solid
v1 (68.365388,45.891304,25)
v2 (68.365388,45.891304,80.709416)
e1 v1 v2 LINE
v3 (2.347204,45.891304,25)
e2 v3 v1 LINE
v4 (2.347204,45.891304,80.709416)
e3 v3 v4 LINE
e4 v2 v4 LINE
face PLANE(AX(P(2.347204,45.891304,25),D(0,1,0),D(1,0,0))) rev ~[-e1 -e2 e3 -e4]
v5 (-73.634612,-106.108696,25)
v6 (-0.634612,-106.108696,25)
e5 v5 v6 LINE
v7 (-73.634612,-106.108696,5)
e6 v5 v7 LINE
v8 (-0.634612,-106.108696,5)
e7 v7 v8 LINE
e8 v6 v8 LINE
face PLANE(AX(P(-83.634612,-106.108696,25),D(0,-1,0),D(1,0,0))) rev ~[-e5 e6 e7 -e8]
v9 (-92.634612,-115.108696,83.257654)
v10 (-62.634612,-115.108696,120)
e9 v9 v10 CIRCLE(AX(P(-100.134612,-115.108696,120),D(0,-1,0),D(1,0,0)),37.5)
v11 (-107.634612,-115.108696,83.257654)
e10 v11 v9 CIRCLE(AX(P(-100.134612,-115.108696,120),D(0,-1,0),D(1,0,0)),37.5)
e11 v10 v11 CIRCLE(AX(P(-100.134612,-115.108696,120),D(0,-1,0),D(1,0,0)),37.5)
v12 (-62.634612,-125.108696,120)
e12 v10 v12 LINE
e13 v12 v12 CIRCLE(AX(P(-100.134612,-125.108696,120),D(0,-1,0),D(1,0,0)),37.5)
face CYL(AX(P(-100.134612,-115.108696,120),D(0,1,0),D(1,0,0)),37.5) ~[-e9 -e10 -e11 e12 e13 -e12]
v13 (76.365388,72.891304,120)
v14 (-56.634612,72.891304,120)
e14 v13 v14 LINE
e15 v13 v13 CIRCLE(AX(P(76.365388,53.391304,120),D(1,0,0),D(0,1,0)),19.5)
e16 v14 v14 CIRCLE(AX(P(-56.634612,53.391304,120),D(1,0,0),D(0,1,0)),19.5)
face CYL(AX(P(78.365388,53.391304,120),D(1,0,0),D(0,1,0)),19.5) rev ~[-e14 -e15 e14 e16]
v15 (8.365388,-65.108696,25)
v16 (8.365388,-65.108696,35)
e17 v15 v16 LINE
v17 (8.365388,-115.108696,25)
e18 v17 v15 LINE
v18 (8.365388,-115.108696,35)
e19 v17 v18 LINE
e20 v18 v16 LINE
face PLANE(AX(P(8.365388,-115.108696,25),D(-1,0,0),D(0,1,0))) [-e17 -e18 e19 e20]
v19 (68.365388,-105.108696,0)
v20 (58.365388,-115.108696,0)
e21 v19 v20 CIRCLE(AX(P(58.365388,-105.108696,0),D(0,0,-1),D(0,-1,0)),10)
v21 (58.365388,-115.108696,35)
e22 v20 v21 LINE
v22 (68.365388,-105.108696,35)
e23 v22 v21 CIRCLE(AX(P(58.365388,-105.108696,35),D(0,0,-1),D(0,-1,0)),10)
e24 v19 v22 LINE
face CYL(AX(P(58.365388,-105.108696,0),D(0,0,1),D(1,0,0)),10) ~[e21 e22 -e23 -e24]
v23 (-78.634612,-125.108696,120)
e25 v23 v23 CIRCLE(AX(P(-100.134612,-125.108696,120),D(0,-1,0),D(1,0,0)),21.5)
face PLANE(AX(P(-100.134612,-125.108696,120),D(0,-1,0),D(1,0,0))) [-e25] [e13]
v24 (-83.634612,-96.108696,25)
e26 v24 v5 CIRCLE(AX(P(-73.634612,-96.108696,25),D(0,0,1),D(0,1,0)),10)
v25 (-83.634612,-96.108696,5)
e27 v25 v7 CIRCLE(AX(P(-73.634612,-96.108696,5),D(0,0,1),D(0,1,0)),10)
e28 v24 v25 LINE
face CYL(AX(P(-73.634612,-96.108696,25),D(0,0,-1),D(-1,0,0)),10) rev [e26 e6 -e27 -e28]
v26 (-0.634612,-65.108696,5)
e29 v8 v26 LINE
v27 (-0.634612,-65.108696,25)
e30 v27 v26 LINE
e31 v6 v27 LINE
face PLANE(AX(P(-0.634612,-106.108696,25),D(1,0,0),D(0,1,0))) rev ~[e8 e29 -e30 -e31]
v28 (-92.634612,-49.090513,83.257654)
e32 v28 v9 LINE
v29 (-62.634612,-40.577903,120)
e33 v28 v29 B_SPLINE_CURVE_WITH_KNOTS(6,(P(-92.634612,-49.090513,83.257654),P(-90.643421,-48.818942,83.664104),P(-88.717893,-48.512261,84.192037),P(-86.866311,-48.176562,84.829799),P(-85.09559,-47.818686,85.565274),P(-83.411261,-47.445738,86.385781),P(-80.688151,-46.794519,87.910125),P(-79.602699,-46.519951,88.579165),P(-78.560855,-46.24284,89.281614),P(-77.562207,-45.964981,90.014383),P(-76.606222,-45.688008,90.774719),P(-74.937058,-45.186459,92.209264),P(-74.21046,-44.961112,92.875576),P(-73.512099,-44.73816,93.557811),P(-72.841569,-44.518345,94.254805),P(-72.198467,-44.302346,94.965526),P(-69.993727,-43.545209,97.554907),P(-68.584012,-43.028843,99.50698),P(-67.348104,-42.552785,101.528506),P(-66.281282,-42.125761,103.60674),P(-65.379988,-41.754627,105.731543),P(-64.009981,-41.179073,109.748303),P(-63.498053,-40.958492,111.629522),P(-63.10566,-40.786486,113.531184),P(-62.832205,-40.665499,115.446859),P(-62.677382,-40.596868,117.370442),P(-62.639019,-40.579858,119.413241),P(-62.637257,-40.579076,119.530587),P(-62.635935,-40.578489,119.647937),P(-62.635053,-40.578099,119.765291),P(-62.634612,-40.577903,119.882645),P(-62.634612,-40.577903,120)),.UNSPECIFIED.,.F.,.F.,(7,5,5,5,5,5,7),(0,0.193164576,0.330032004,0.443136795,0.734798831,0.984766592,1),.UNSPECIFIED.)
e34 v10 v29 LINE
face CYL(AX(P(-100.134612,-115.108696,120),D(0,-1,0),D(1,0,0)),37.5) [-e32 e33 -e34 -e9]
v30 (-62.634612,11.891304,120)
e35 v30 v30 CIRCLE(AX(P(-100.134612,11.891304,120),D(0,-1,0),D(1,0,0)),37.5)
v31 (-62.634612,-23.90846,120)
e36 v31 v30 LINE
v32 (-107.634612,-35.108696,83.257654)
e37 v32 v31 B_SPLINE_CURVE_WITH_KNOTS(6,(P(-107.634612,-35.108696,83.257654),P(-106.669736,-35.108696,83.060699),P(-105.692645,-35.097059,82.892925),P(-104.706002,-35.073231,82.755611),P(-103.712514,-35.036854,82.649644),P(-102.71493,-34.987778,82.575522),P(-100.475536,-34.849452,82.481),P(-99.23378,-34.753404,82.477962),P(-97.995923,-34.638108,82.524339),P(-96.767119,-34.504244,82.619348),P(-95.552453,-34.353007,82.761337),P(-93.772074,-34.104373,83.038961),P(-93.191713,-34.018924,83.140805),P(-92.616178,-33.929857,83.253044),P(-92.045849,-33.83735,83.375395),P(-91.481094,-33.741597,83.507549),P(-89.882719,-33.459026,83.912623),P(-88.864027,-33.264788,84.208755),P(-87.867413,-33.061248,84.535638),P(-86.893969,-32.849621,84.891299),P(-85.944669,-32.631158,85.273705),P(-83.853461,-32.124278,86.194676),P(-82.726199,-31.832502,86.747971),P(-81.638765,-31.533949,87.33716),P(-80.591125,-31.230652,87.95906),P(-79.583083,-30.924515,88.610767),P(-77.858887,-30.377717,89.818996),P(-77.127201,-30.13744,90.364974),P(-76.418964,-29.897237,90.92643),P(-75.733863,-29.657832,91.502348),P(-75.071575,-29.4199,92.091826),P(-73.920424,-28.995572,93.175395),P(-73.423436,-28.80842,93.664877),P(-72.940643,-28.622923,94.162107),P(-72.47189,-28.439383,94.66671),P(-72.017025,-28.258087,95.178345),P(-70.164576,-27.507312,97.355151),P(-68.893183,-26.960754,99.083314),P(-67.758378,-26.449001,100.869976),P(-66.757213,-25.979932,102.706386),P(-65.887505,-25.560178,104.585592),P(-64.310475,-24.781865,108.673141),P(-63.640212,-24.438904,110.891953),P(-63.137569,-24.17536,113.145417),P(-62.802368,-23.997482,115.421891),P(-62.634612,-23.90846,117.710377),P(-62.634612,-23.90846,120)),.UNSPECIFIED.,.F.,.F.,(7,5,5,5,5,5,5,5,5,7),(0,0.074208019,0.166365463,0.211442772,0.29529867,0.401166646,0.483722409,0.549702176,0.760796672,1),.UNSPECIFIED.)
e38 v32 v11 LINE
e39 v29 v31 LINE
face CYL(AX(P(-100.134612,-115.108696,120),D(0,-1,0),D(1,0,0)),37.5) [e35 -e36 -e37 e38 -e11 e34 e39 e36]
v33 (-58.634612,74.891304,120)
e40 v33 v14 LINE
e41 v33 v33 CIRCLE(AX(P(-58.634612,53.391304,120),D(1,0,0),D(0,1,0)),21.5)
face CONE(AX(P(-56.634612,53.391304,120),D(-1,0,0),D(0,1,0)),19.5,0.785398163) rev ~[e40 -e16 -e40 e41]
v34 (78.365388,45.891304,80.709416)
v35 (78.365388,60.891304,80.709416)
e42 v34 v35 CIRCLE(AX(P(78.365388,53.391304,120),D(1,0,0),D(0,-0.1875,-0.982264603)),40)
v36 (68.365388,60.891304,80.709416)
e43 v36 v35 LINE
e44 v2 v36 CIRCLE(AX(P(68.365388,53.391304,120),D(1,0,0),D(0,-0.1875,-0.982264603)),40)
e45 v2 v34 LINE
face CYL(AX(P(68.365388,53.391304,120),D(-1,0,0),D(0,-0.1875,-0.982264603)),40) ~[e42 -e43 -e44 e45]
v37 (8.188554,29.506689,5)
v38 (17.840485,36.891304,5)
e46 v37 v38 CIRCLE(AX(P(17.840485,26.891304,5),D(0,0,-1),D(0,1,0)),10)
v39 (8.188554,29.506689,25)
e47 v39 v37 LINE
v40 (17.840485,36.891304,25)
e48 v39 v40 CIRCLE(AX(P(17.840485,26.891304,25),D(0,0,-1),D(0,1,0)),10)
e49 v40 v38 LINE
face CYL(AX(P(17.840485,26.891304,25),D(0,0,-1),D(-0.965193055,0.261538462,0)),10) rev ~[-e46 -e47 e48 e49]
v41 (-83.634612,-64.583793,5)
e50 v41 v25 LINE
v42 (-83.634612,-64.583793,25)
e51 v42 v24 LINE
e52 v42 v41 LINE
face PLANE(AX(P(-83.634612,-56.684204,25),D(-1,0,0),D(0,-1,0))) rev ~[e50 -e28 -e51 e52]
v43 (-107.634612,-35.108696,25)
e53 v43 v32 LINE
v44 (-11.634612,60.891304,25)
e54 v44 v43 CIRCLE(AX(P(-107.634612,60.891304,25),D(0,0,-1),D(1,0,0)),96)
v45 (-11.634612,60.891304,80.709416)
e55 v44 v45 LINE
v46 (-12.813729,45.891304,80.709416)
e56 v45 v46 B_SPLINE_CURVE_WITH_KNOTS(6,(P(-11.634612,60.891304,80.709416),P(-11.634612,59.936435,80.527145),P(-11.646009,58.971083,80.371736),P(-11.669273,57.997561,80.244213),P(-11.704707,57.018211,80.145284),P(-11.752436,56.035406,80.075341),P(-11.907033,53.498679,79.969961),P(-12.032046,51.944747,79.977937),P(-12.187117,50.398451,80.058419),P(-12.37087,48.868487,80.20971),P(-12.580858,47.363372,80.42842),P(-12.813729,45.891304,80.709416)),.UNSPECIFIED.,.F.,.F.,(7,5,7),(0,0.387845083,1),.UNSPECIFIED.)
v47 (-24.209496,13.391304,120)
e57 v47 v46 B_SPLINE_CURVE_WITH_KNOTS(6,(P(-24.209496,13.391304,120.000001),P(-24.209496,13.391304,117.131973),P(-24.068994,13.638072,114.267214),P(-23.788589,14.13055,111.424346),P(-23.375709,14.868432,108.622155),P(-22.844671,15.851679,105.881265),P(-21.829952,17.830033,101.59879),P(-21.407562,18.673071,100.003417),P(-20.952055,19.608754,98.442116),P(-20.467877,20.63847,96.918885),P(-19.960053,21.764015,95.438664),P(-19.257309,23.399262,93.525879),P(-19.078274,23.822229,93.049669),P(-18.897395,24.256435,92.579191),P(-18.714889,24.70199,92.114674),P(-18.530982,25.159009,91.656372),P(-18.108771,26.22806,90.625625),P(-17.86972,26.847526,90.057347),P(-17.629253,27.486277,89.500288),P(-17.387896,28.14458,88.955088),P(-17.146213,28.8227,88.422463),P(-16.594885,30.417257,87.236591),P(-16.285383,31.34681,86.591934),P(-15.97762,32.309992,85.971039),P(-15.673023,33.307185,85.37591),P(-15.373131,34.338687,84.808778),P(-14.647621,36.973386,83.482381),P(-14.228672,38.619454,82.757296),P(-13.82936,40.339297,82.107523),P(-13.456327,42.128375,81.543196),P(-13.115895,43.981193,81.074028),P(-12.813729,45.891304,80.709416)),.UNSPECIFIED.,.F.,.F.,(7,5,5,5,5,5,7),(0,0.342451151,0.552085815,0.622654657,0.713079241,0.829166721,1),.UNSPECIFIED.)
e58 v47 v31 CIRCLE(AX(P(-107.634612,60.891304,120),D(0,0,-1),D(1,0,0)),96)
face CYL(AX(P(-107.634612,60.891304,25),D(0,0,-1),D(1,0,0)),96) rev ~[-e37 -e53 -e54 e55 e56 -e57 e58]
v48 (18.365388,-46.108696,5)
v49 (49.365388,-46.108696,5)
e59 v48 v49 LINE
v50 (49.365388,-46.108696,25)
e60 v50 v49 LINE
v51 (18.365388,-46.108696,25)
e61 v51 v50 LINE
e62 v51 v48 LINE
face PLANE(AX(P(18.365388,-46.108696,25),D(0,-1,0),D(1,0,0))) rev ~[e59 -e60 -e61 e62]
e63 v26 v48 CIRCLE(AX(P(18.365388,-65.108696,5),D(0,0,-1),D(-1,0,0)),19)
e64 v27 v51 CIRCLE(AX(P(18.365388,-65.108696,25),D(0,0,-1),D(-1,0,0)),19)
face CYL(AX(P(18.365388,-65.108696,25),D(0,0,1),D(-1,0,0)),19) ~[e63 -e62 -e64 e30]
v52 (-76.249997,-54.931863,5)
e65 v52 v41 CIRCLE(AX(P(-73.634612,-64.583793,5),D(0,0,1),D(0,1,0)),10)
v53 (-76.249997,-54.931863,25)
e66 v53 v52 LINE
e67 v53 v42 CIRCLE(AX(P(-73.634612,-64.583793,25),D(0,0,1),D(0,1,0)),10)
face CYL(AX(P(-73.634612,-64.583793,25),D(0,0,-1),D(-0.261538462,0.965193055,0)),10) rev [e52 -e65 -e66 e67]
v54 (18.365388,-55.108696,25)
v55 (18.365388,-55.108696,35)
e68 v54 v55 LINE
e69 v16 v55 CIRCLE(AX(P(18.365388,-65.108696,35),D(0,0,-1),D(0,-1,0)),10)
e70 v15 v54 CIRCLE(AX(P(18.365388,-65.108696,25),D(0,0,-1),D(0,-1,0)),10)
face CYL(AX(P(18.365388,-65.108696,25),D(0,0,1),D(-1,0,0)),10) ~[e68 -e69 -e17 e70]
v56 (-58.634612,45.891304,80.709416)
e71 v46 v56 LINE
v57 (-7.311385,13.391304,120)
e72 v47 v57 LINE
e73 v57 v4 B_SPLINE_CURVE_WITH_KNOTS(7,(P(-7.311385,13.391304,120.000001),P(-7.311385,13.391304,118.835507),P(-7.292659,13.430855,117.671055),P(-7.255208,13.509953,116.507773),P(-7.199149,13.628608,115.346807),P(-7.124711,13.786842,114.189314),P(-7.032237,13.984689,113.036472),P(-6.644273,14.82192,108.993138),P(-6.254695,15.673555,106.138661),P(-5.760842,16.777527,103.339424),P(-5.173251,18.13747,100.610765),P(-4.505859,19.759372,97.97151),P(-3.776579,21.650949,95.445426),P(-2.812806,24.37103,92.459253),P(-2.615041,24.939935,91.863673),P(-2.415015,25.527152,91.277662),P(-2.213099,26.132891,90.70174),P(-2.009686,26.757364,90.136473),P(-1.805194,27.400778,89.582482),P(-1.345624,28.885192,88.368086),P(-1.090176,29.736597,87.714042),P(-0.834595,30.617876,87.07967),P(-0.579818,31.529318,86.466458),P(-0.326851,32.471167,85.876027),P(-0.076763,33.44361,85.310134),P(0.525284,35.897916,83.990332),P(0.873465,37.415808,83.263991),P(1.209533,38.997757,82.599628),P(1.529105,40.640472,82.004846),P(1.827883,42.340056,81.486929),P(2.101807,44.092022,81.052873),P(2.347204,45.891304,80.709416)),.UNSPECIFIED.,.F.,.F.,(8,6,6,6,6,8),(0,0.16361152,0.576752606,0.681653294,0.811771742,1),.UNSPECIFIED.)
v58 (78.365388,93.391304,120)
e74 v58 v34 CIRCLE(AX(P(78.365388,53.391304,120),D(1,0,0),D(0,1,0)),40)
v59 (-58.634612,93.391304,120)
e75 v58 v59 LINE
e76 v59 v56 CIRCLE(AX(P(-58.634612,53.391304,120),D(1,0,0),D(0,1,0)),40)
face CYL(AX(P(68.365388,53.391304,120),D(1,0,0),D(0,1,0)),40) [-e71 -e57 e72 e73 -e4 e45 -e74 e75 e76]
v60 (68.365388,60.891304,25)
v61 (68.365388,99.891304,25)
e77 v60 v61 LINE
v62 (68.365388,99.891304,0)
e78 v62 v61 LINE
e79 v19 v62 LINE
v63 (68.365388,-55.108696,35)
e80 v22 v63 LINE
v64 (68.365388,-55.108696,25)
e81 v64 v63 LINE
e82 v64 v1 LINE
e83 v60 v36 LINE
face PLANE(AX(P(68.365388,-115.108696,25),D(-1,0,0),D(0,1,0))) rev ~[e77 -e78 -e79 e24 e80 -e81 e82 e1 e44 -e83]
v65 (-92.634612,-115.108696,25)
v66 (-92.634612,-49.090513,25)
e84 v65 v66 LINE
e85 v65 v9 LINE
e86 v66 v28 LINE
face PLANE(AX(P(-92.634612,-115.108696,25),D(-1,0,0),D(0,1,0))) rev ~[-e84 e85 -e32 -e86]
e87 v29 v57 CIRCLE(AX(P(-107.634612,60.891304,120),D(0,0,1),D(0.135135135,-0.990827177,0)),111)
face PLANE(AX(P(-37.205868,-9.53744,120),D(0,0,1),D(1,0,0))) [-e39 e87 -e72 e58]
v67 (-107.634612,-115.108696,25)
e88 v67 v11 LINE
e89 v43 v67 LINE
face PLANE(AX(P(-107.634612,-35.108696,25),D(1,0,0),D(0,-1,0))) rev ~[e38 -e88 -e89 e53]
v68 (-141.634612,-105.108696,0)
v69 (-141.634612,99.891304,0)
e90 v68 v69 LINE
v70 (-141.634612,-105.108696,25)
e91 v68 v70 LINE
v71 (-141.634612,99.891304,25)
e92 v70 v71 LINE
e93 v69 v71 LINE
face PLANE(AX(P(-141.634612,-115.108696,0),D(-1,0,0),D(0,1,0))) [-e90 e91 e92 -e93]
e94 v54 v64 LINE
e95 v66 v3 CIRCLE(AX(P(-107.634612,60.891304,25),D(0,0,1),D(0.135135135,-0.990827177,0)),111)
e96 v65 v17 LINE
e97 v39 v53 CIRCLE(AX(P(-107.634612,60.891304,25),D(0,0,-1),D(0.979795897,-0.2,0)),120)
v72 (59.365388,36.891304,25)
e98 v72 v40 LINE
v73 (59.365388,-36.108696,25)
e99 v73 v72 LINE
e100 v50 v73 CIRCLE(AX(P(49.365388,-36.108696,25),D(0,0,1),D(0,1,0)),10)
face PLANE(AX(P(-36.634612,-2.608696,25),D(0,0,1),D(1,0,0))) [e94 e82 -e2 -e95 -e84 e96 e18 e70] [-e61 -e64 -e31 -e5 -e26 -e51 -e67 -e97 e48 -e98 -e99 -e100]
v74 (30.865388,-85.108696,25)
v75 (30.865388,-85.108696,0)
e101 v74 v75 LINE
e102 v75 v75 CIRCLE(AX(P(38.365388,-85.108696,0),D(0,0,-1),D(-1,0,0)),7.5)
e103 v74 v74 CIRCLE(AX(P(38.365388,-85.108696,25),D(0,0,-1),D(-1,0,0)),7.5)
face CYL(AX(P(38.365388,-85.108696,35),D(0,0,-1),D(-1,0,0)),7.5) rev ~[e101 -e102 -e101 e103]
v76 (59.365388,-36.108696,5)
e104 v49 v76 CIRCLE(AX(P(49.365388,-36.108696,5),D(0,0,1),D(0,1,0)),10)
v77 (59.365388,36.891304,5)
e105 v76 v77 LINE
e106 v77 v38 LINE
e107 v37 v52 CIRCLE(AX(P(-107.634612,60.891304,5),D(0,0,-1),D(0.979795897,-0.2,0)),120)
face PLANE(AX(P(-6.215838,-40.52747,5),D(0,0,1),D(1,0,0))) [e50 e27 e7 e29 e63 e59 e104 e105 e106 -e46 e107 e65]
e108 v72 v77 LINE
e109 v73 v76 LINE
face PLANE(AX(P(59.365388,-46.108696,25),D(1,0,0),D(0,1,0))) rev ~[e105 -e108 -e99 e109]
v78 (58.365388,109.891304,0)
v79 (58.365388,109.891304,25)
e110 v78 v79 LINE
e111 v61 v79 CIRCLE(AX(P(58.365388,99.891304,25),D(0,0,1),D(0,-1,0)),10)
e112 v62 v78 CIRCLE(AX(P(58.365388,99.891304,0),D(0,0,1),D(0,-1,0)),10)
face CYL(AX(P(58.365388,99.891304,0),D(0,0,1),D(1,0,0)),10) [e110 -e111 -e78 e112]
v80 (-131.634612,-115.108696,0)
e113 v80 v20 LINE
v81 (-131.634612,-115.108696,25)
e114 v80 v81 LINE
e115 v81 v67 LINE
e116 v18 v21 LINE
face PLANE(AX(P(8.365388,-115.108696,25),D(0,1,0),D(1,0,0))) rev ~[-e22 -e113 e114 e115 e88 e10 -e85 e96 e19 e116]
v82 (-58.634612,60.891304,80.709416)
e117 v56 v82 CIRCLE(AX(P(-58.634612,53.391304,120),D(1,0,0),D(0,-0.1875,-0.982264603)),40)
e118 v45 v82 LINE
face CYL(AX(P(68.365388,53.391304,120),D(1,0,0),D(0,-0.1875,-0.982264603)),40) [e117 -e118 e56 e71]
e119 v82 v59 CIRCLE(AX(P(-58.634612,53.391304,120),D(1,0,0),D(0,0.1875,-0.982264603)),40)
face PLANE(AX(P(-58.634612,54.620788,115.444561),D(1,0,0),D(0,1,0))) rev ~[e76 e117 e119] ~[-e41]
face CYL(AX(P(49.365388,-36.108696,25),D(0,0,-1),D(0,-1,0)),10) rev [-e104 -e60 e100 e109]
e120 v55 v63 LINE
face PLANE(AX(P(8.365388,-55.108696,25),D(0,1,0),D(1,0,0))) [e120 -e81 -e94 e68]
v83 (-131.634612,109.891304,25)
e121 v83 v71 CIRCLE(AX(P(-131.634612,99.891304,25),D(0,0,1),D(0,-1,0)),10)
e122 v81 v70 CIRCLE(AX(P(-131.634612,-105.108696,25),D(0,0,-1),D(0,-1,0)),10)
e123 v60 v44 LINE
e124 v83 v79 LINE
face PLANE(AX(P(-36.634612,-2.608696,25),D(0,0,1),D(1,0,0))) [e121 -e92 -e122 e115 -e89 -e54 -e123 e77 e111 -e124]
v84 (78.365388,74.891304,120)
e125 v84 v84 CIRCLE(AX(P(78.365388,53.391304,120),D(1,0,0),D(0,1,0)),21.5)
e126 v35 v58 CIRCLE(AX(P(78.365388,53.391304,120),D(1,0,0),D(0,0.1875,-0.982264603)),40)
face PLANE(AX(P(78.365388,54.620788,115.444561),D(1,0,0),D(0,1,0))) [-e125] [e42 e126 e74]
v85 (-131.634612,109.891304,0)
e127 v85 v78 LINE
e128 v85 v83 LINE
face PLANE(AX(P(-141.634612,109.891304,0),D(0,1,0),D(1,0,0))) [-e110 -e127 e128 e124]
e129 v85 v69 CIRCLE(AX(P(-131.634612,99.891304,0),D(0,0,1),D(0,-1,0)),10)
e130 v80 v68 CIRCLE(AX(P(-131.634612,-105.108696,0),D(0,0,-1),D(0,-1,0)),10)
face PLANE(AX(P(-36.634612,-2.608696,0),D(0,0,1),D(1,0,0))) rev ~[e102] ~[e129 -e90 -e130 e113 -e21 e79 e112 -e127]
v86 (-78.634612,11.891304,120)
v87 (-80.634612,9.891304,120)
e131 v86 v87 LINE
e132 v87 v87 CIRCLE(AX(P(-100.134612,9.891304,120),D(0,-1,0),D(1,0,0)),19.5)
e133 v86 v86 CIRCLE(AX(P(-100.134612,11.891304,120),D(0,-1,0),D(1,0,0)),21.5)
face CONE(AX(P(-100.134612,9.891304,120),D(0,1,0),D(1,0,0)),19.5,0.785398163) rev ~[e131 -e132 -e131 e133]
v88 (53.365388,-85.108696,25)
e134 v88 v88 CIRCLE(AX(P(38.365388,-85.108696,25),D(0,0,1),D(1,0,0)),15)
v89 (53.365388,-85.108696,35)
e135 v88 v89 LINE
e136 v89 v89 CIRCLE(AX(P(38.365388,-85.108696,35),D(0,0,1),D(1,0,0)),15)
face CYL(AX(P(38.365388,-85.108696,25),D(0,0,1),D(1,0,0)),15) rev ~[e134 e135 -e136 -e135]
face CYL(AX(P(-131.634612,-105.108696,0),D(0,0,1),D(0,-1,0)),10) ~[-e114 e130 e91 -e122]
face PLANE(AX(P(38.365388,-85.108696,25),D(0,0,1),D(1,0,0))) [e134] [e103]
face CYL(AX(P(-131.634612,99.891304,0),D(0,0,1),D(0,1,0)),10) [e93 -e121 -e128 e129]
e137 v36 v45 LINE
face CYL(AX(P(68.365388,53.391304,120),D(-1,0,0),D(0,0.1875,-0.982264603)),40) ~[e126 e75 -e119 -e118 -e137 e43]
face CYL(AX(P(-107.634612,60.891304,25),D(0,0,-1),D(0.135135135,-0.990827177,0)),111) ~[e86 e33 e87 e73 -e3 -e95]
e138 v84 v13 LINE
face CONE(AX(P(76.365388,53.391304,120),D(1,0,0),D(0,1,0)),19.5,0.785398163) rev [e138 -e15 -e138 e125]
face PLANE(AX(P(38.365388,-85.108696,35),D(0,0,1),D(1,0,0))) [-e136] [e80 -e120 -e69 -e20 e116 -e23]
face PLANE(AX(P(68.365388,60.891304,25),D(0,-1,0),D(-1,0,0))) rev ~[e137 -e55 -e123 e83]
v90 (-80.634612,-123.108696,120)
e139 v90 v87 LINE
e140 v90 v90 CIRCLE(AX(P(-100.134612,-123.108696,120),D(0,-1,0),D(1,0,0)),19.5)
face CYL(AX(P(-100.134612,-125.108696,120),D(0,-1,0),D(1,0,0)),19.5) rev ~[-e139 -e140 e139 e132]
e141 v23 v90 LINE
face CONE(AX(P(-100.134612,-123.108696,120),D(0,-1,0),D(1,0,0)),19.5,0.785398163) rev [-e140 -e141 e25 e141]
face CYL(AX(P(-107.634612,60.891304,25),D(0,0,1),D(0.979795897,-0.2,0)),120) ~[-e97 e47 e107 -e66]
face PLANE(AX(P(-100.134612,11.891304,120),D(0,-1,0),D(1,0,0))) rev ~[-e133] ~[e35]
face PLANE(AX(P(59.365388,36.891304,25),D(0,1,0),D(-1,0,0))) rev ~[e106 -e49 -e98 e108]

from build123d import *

# Parameters (mm, degrees)
F0_W            = 210
F0_H            = 225
F1_DEPTH        = 25
F3_DEPTH        = 95
F4_R            = 37.5
F5_DEPTH        = 10
F5_DEPTH_BACK   = 127
F7_DEPTH        = 10
F7_DEPTH_BACK   = 127
F8_W            = 60
F8_H            = 60
F9_DEPTH        = 10
F10_R           = 10
F12_DEPTH       = 20
F14_D           = 15
F14_CBORE_D     = 30
F14_CBORE_DEPTH = 10
F15_R           = 10
F17_R           = 19.5
F18_DEPTH       = 220.001
F16_R           = 19.5
F19_DEPTH       = 235.001
F20_SIZE        = 2
F21_R           = 10


with BuildPart() as f1:
    # F0 (on Top) → F1 (new body)
    with BuildSketch(Plane.XY):
        with Locations((-36.6346123987, -2.6086959988)):
            Rectangle(F0_W, F0_H)
    extrude(amount=F1_DEPTH)

    # F2 (on face) → F3 (join)
    with BuildSketch(Plane.XY.offset(25)):
        with BuildLine():
            Line((68.3653876013, 45.8913040012), (68.3653876013, 60.8913040012))
            Line((68.3653876013, 60.8913040012), (-11.6346123987, 60.8913040012))
            ThreePointArc((-11.6346123987, 60.8913040012), (-39.7523614048, -6.9909469927), (-107.6346123987, -35.1086959988))
            Line((-107.6346123987, -35.1086959988), (-107.6346123987, -115.1086959988))
            Line((-107.6346123987, -115.1086959988), (-92.6346123987, -115.1086959988))
            Line((-92.6346123987, -115.1086959988), (-92.6346123987, -49.0905126777))
            ThreePointArc((-92.6346123987, -49.0905126777), (-29.145759687, -17.5975487105), (2.3472042802, 45.8913040012))
            Line((2.3472042802, 45.8913040012), (68.3653876013, 45.8913040012))
        make_face()
    extrude(amount=F3_DEPTH)

    # F4 (on face) → F5 (join, two sides)
    with BuildSketch(Plane.XZ.offset(115.1086959988)) as f5_sk:
        with Locations((-100.1346123987, 120)):
            Circle(F4_R)
    extrude(amount=F5_DEPTH)
    extrude(f5_sk.sketch, amount=-F5_DEPTH_BACK)

    # F6 (on face) → F7 (join, two sides)
    with BuildSketch(Plane.YZ.offset(68.3653876013)) as f7_sk:
        with BuildLine():
            ThreePointArc((60.8913040012, 80.7094158862), (84.2133740161, 94.504902432), (93.3913040012, 120))
            ThreePointArc((93.3913040012, 120), (27.8962064332, 150.8220700148), (45.8913040012, 80.7094158862))
            Line((45.8913040012, 80.7094158862), (45.8913040012, 120))
            Line((45.8913040012, 120), (60.8913040012, 120))
            Line((60.8913040012, 120), (60.8913040012, 80.7094158862))
        make_face()
        with BuildLine():
            Line((45.8913040012, 120), (45.8913040012, 80.7094158862))
            ThreePointArc((45.8913040012, 80.7094158862), (53.3913040012, 80), (60.8913040012, 80.7094158862))
            Line((60.8913040012, 80.7094158862), (60.8913040012, 120))
            Line((60.8913040012, 120), (45.8913040012, 120))
        make_face()
    extrude(amount=F7_DEPTH)
    extrude(f7_sk.sketch, amount=-F7_DEPTH_BACK)

    # F8 (on face) → F9 (join)
    with BuildSketch(Plane.XY.offset(25)):
        with Locations((38.3653876013, -85.1086959988)):
            Rectangle(F8_W, F8_H)
    extrude(amount=F9_DEPTH)

    # F10
    f10_edges = [f1.edges().sort_by_distance(p)[0] for p in [
        (8.365388, -55.108696, 30),
    ]]
    fillet(f10_edges, radius=F10_R)

    # F11 (on face) → F12 (cut)
    with BuildSketch(Plane.XY.offset(25)):
        with BuildLine():
            ThreePointArc((9.9408952549, 36.8913040012), (-22.7817986563, -23.9615097412), (-83.6346123987, -56.6842036524))
            Line((-83.6346123987, -56.6842036524), (-83.6346123987, -106.1086959988))
            Line((-83.6346123987, -106.1086959988), (-0.6346123987, -106.1086959988))
            Line((-0.6346123987, -106.1086959988), (-0.6346123987, -65.1086959988))
            ThreePointArc((-0.6346123987, -65.1086959988), (4.9303587587, -51.6736671562), (18.3653876013, -46.1086959988))
            Line((18.3653876013, -46.1086959988), (59.3653876013, -46.1086959988))
            Line((59.3653876013, -46.1086959988), (59.3653876013, 36.8913040012))
            Line((59.3653876013, 36.8913040012), (9.9408952549, 36.8913040012))
        make_face()
    extrude(amount=-F12_DEPTH, mode=Mode.SUBTRACT)

    # F14 (through all)
    with Locations(Plane.XY.offset(35)):
        with Locations((38.3653876013, -85.1086959988)):
            CounterBoreHole(F14_D / 2, F14_CBORE_D / 2, F14_CBORE_DEPTH)

    # F15
    f15_edges = [f1.edges().sort_by_distance(p)[0] for p in [
        (-83.634612, -56.684204, 15),
        (9.940895, 36.891304, 15),
        (-83.634612, -106.108696, 15),
        (59.365388, -46.108696, 15),
    ]]
    fillet(f15_edges, radius=F15_R)

    # F17 (on face) → F18 (cut, through all)
    with BuildSketch(Plane.YZ.offset(78.3653876013)):
        with Locations((53.3913040012, 120)):
            Circle(F17_R)
    extrude(amount=-F18_DEPTH, mode=Mode.SUBTRACT)

    # F16 (on face) → F19 (cut, through all)
    with BuildSketch(Plane.XZ.offset(125.1086959988)):
        with Locations((-100.1346123987, 120)):
            Circle(F16_R)
    extrude(amount=-F19_DEPTH, mode=Mode.SUBTRACT)

    # F20
    f20_edges = [f1.edges().sort_by_distance(p)[0] for p in [
        (-119.634612, -125.108696, 120),
        (78.365388, 33.891304, 120),
        (-119.634612, 11.891304, 120),
        (-58.634612, 33.891304, 120),
    ]]
    chamfer(f20_edges, length=F20_SIZE)

    # F21
    f21_edges = [f1.edges().sort_by_distance(p)[0] for p in [
        (68.365388, -115.108696, 17.5),
        (-141.634612, -115.108696, 12.5),
        (68.365388, 109.891304, 12.5),
        (-141.634612, 109.891304, 12.5),
    ]]
    fillet(f21_edges, radius=F21_R)


solid = f1.part
